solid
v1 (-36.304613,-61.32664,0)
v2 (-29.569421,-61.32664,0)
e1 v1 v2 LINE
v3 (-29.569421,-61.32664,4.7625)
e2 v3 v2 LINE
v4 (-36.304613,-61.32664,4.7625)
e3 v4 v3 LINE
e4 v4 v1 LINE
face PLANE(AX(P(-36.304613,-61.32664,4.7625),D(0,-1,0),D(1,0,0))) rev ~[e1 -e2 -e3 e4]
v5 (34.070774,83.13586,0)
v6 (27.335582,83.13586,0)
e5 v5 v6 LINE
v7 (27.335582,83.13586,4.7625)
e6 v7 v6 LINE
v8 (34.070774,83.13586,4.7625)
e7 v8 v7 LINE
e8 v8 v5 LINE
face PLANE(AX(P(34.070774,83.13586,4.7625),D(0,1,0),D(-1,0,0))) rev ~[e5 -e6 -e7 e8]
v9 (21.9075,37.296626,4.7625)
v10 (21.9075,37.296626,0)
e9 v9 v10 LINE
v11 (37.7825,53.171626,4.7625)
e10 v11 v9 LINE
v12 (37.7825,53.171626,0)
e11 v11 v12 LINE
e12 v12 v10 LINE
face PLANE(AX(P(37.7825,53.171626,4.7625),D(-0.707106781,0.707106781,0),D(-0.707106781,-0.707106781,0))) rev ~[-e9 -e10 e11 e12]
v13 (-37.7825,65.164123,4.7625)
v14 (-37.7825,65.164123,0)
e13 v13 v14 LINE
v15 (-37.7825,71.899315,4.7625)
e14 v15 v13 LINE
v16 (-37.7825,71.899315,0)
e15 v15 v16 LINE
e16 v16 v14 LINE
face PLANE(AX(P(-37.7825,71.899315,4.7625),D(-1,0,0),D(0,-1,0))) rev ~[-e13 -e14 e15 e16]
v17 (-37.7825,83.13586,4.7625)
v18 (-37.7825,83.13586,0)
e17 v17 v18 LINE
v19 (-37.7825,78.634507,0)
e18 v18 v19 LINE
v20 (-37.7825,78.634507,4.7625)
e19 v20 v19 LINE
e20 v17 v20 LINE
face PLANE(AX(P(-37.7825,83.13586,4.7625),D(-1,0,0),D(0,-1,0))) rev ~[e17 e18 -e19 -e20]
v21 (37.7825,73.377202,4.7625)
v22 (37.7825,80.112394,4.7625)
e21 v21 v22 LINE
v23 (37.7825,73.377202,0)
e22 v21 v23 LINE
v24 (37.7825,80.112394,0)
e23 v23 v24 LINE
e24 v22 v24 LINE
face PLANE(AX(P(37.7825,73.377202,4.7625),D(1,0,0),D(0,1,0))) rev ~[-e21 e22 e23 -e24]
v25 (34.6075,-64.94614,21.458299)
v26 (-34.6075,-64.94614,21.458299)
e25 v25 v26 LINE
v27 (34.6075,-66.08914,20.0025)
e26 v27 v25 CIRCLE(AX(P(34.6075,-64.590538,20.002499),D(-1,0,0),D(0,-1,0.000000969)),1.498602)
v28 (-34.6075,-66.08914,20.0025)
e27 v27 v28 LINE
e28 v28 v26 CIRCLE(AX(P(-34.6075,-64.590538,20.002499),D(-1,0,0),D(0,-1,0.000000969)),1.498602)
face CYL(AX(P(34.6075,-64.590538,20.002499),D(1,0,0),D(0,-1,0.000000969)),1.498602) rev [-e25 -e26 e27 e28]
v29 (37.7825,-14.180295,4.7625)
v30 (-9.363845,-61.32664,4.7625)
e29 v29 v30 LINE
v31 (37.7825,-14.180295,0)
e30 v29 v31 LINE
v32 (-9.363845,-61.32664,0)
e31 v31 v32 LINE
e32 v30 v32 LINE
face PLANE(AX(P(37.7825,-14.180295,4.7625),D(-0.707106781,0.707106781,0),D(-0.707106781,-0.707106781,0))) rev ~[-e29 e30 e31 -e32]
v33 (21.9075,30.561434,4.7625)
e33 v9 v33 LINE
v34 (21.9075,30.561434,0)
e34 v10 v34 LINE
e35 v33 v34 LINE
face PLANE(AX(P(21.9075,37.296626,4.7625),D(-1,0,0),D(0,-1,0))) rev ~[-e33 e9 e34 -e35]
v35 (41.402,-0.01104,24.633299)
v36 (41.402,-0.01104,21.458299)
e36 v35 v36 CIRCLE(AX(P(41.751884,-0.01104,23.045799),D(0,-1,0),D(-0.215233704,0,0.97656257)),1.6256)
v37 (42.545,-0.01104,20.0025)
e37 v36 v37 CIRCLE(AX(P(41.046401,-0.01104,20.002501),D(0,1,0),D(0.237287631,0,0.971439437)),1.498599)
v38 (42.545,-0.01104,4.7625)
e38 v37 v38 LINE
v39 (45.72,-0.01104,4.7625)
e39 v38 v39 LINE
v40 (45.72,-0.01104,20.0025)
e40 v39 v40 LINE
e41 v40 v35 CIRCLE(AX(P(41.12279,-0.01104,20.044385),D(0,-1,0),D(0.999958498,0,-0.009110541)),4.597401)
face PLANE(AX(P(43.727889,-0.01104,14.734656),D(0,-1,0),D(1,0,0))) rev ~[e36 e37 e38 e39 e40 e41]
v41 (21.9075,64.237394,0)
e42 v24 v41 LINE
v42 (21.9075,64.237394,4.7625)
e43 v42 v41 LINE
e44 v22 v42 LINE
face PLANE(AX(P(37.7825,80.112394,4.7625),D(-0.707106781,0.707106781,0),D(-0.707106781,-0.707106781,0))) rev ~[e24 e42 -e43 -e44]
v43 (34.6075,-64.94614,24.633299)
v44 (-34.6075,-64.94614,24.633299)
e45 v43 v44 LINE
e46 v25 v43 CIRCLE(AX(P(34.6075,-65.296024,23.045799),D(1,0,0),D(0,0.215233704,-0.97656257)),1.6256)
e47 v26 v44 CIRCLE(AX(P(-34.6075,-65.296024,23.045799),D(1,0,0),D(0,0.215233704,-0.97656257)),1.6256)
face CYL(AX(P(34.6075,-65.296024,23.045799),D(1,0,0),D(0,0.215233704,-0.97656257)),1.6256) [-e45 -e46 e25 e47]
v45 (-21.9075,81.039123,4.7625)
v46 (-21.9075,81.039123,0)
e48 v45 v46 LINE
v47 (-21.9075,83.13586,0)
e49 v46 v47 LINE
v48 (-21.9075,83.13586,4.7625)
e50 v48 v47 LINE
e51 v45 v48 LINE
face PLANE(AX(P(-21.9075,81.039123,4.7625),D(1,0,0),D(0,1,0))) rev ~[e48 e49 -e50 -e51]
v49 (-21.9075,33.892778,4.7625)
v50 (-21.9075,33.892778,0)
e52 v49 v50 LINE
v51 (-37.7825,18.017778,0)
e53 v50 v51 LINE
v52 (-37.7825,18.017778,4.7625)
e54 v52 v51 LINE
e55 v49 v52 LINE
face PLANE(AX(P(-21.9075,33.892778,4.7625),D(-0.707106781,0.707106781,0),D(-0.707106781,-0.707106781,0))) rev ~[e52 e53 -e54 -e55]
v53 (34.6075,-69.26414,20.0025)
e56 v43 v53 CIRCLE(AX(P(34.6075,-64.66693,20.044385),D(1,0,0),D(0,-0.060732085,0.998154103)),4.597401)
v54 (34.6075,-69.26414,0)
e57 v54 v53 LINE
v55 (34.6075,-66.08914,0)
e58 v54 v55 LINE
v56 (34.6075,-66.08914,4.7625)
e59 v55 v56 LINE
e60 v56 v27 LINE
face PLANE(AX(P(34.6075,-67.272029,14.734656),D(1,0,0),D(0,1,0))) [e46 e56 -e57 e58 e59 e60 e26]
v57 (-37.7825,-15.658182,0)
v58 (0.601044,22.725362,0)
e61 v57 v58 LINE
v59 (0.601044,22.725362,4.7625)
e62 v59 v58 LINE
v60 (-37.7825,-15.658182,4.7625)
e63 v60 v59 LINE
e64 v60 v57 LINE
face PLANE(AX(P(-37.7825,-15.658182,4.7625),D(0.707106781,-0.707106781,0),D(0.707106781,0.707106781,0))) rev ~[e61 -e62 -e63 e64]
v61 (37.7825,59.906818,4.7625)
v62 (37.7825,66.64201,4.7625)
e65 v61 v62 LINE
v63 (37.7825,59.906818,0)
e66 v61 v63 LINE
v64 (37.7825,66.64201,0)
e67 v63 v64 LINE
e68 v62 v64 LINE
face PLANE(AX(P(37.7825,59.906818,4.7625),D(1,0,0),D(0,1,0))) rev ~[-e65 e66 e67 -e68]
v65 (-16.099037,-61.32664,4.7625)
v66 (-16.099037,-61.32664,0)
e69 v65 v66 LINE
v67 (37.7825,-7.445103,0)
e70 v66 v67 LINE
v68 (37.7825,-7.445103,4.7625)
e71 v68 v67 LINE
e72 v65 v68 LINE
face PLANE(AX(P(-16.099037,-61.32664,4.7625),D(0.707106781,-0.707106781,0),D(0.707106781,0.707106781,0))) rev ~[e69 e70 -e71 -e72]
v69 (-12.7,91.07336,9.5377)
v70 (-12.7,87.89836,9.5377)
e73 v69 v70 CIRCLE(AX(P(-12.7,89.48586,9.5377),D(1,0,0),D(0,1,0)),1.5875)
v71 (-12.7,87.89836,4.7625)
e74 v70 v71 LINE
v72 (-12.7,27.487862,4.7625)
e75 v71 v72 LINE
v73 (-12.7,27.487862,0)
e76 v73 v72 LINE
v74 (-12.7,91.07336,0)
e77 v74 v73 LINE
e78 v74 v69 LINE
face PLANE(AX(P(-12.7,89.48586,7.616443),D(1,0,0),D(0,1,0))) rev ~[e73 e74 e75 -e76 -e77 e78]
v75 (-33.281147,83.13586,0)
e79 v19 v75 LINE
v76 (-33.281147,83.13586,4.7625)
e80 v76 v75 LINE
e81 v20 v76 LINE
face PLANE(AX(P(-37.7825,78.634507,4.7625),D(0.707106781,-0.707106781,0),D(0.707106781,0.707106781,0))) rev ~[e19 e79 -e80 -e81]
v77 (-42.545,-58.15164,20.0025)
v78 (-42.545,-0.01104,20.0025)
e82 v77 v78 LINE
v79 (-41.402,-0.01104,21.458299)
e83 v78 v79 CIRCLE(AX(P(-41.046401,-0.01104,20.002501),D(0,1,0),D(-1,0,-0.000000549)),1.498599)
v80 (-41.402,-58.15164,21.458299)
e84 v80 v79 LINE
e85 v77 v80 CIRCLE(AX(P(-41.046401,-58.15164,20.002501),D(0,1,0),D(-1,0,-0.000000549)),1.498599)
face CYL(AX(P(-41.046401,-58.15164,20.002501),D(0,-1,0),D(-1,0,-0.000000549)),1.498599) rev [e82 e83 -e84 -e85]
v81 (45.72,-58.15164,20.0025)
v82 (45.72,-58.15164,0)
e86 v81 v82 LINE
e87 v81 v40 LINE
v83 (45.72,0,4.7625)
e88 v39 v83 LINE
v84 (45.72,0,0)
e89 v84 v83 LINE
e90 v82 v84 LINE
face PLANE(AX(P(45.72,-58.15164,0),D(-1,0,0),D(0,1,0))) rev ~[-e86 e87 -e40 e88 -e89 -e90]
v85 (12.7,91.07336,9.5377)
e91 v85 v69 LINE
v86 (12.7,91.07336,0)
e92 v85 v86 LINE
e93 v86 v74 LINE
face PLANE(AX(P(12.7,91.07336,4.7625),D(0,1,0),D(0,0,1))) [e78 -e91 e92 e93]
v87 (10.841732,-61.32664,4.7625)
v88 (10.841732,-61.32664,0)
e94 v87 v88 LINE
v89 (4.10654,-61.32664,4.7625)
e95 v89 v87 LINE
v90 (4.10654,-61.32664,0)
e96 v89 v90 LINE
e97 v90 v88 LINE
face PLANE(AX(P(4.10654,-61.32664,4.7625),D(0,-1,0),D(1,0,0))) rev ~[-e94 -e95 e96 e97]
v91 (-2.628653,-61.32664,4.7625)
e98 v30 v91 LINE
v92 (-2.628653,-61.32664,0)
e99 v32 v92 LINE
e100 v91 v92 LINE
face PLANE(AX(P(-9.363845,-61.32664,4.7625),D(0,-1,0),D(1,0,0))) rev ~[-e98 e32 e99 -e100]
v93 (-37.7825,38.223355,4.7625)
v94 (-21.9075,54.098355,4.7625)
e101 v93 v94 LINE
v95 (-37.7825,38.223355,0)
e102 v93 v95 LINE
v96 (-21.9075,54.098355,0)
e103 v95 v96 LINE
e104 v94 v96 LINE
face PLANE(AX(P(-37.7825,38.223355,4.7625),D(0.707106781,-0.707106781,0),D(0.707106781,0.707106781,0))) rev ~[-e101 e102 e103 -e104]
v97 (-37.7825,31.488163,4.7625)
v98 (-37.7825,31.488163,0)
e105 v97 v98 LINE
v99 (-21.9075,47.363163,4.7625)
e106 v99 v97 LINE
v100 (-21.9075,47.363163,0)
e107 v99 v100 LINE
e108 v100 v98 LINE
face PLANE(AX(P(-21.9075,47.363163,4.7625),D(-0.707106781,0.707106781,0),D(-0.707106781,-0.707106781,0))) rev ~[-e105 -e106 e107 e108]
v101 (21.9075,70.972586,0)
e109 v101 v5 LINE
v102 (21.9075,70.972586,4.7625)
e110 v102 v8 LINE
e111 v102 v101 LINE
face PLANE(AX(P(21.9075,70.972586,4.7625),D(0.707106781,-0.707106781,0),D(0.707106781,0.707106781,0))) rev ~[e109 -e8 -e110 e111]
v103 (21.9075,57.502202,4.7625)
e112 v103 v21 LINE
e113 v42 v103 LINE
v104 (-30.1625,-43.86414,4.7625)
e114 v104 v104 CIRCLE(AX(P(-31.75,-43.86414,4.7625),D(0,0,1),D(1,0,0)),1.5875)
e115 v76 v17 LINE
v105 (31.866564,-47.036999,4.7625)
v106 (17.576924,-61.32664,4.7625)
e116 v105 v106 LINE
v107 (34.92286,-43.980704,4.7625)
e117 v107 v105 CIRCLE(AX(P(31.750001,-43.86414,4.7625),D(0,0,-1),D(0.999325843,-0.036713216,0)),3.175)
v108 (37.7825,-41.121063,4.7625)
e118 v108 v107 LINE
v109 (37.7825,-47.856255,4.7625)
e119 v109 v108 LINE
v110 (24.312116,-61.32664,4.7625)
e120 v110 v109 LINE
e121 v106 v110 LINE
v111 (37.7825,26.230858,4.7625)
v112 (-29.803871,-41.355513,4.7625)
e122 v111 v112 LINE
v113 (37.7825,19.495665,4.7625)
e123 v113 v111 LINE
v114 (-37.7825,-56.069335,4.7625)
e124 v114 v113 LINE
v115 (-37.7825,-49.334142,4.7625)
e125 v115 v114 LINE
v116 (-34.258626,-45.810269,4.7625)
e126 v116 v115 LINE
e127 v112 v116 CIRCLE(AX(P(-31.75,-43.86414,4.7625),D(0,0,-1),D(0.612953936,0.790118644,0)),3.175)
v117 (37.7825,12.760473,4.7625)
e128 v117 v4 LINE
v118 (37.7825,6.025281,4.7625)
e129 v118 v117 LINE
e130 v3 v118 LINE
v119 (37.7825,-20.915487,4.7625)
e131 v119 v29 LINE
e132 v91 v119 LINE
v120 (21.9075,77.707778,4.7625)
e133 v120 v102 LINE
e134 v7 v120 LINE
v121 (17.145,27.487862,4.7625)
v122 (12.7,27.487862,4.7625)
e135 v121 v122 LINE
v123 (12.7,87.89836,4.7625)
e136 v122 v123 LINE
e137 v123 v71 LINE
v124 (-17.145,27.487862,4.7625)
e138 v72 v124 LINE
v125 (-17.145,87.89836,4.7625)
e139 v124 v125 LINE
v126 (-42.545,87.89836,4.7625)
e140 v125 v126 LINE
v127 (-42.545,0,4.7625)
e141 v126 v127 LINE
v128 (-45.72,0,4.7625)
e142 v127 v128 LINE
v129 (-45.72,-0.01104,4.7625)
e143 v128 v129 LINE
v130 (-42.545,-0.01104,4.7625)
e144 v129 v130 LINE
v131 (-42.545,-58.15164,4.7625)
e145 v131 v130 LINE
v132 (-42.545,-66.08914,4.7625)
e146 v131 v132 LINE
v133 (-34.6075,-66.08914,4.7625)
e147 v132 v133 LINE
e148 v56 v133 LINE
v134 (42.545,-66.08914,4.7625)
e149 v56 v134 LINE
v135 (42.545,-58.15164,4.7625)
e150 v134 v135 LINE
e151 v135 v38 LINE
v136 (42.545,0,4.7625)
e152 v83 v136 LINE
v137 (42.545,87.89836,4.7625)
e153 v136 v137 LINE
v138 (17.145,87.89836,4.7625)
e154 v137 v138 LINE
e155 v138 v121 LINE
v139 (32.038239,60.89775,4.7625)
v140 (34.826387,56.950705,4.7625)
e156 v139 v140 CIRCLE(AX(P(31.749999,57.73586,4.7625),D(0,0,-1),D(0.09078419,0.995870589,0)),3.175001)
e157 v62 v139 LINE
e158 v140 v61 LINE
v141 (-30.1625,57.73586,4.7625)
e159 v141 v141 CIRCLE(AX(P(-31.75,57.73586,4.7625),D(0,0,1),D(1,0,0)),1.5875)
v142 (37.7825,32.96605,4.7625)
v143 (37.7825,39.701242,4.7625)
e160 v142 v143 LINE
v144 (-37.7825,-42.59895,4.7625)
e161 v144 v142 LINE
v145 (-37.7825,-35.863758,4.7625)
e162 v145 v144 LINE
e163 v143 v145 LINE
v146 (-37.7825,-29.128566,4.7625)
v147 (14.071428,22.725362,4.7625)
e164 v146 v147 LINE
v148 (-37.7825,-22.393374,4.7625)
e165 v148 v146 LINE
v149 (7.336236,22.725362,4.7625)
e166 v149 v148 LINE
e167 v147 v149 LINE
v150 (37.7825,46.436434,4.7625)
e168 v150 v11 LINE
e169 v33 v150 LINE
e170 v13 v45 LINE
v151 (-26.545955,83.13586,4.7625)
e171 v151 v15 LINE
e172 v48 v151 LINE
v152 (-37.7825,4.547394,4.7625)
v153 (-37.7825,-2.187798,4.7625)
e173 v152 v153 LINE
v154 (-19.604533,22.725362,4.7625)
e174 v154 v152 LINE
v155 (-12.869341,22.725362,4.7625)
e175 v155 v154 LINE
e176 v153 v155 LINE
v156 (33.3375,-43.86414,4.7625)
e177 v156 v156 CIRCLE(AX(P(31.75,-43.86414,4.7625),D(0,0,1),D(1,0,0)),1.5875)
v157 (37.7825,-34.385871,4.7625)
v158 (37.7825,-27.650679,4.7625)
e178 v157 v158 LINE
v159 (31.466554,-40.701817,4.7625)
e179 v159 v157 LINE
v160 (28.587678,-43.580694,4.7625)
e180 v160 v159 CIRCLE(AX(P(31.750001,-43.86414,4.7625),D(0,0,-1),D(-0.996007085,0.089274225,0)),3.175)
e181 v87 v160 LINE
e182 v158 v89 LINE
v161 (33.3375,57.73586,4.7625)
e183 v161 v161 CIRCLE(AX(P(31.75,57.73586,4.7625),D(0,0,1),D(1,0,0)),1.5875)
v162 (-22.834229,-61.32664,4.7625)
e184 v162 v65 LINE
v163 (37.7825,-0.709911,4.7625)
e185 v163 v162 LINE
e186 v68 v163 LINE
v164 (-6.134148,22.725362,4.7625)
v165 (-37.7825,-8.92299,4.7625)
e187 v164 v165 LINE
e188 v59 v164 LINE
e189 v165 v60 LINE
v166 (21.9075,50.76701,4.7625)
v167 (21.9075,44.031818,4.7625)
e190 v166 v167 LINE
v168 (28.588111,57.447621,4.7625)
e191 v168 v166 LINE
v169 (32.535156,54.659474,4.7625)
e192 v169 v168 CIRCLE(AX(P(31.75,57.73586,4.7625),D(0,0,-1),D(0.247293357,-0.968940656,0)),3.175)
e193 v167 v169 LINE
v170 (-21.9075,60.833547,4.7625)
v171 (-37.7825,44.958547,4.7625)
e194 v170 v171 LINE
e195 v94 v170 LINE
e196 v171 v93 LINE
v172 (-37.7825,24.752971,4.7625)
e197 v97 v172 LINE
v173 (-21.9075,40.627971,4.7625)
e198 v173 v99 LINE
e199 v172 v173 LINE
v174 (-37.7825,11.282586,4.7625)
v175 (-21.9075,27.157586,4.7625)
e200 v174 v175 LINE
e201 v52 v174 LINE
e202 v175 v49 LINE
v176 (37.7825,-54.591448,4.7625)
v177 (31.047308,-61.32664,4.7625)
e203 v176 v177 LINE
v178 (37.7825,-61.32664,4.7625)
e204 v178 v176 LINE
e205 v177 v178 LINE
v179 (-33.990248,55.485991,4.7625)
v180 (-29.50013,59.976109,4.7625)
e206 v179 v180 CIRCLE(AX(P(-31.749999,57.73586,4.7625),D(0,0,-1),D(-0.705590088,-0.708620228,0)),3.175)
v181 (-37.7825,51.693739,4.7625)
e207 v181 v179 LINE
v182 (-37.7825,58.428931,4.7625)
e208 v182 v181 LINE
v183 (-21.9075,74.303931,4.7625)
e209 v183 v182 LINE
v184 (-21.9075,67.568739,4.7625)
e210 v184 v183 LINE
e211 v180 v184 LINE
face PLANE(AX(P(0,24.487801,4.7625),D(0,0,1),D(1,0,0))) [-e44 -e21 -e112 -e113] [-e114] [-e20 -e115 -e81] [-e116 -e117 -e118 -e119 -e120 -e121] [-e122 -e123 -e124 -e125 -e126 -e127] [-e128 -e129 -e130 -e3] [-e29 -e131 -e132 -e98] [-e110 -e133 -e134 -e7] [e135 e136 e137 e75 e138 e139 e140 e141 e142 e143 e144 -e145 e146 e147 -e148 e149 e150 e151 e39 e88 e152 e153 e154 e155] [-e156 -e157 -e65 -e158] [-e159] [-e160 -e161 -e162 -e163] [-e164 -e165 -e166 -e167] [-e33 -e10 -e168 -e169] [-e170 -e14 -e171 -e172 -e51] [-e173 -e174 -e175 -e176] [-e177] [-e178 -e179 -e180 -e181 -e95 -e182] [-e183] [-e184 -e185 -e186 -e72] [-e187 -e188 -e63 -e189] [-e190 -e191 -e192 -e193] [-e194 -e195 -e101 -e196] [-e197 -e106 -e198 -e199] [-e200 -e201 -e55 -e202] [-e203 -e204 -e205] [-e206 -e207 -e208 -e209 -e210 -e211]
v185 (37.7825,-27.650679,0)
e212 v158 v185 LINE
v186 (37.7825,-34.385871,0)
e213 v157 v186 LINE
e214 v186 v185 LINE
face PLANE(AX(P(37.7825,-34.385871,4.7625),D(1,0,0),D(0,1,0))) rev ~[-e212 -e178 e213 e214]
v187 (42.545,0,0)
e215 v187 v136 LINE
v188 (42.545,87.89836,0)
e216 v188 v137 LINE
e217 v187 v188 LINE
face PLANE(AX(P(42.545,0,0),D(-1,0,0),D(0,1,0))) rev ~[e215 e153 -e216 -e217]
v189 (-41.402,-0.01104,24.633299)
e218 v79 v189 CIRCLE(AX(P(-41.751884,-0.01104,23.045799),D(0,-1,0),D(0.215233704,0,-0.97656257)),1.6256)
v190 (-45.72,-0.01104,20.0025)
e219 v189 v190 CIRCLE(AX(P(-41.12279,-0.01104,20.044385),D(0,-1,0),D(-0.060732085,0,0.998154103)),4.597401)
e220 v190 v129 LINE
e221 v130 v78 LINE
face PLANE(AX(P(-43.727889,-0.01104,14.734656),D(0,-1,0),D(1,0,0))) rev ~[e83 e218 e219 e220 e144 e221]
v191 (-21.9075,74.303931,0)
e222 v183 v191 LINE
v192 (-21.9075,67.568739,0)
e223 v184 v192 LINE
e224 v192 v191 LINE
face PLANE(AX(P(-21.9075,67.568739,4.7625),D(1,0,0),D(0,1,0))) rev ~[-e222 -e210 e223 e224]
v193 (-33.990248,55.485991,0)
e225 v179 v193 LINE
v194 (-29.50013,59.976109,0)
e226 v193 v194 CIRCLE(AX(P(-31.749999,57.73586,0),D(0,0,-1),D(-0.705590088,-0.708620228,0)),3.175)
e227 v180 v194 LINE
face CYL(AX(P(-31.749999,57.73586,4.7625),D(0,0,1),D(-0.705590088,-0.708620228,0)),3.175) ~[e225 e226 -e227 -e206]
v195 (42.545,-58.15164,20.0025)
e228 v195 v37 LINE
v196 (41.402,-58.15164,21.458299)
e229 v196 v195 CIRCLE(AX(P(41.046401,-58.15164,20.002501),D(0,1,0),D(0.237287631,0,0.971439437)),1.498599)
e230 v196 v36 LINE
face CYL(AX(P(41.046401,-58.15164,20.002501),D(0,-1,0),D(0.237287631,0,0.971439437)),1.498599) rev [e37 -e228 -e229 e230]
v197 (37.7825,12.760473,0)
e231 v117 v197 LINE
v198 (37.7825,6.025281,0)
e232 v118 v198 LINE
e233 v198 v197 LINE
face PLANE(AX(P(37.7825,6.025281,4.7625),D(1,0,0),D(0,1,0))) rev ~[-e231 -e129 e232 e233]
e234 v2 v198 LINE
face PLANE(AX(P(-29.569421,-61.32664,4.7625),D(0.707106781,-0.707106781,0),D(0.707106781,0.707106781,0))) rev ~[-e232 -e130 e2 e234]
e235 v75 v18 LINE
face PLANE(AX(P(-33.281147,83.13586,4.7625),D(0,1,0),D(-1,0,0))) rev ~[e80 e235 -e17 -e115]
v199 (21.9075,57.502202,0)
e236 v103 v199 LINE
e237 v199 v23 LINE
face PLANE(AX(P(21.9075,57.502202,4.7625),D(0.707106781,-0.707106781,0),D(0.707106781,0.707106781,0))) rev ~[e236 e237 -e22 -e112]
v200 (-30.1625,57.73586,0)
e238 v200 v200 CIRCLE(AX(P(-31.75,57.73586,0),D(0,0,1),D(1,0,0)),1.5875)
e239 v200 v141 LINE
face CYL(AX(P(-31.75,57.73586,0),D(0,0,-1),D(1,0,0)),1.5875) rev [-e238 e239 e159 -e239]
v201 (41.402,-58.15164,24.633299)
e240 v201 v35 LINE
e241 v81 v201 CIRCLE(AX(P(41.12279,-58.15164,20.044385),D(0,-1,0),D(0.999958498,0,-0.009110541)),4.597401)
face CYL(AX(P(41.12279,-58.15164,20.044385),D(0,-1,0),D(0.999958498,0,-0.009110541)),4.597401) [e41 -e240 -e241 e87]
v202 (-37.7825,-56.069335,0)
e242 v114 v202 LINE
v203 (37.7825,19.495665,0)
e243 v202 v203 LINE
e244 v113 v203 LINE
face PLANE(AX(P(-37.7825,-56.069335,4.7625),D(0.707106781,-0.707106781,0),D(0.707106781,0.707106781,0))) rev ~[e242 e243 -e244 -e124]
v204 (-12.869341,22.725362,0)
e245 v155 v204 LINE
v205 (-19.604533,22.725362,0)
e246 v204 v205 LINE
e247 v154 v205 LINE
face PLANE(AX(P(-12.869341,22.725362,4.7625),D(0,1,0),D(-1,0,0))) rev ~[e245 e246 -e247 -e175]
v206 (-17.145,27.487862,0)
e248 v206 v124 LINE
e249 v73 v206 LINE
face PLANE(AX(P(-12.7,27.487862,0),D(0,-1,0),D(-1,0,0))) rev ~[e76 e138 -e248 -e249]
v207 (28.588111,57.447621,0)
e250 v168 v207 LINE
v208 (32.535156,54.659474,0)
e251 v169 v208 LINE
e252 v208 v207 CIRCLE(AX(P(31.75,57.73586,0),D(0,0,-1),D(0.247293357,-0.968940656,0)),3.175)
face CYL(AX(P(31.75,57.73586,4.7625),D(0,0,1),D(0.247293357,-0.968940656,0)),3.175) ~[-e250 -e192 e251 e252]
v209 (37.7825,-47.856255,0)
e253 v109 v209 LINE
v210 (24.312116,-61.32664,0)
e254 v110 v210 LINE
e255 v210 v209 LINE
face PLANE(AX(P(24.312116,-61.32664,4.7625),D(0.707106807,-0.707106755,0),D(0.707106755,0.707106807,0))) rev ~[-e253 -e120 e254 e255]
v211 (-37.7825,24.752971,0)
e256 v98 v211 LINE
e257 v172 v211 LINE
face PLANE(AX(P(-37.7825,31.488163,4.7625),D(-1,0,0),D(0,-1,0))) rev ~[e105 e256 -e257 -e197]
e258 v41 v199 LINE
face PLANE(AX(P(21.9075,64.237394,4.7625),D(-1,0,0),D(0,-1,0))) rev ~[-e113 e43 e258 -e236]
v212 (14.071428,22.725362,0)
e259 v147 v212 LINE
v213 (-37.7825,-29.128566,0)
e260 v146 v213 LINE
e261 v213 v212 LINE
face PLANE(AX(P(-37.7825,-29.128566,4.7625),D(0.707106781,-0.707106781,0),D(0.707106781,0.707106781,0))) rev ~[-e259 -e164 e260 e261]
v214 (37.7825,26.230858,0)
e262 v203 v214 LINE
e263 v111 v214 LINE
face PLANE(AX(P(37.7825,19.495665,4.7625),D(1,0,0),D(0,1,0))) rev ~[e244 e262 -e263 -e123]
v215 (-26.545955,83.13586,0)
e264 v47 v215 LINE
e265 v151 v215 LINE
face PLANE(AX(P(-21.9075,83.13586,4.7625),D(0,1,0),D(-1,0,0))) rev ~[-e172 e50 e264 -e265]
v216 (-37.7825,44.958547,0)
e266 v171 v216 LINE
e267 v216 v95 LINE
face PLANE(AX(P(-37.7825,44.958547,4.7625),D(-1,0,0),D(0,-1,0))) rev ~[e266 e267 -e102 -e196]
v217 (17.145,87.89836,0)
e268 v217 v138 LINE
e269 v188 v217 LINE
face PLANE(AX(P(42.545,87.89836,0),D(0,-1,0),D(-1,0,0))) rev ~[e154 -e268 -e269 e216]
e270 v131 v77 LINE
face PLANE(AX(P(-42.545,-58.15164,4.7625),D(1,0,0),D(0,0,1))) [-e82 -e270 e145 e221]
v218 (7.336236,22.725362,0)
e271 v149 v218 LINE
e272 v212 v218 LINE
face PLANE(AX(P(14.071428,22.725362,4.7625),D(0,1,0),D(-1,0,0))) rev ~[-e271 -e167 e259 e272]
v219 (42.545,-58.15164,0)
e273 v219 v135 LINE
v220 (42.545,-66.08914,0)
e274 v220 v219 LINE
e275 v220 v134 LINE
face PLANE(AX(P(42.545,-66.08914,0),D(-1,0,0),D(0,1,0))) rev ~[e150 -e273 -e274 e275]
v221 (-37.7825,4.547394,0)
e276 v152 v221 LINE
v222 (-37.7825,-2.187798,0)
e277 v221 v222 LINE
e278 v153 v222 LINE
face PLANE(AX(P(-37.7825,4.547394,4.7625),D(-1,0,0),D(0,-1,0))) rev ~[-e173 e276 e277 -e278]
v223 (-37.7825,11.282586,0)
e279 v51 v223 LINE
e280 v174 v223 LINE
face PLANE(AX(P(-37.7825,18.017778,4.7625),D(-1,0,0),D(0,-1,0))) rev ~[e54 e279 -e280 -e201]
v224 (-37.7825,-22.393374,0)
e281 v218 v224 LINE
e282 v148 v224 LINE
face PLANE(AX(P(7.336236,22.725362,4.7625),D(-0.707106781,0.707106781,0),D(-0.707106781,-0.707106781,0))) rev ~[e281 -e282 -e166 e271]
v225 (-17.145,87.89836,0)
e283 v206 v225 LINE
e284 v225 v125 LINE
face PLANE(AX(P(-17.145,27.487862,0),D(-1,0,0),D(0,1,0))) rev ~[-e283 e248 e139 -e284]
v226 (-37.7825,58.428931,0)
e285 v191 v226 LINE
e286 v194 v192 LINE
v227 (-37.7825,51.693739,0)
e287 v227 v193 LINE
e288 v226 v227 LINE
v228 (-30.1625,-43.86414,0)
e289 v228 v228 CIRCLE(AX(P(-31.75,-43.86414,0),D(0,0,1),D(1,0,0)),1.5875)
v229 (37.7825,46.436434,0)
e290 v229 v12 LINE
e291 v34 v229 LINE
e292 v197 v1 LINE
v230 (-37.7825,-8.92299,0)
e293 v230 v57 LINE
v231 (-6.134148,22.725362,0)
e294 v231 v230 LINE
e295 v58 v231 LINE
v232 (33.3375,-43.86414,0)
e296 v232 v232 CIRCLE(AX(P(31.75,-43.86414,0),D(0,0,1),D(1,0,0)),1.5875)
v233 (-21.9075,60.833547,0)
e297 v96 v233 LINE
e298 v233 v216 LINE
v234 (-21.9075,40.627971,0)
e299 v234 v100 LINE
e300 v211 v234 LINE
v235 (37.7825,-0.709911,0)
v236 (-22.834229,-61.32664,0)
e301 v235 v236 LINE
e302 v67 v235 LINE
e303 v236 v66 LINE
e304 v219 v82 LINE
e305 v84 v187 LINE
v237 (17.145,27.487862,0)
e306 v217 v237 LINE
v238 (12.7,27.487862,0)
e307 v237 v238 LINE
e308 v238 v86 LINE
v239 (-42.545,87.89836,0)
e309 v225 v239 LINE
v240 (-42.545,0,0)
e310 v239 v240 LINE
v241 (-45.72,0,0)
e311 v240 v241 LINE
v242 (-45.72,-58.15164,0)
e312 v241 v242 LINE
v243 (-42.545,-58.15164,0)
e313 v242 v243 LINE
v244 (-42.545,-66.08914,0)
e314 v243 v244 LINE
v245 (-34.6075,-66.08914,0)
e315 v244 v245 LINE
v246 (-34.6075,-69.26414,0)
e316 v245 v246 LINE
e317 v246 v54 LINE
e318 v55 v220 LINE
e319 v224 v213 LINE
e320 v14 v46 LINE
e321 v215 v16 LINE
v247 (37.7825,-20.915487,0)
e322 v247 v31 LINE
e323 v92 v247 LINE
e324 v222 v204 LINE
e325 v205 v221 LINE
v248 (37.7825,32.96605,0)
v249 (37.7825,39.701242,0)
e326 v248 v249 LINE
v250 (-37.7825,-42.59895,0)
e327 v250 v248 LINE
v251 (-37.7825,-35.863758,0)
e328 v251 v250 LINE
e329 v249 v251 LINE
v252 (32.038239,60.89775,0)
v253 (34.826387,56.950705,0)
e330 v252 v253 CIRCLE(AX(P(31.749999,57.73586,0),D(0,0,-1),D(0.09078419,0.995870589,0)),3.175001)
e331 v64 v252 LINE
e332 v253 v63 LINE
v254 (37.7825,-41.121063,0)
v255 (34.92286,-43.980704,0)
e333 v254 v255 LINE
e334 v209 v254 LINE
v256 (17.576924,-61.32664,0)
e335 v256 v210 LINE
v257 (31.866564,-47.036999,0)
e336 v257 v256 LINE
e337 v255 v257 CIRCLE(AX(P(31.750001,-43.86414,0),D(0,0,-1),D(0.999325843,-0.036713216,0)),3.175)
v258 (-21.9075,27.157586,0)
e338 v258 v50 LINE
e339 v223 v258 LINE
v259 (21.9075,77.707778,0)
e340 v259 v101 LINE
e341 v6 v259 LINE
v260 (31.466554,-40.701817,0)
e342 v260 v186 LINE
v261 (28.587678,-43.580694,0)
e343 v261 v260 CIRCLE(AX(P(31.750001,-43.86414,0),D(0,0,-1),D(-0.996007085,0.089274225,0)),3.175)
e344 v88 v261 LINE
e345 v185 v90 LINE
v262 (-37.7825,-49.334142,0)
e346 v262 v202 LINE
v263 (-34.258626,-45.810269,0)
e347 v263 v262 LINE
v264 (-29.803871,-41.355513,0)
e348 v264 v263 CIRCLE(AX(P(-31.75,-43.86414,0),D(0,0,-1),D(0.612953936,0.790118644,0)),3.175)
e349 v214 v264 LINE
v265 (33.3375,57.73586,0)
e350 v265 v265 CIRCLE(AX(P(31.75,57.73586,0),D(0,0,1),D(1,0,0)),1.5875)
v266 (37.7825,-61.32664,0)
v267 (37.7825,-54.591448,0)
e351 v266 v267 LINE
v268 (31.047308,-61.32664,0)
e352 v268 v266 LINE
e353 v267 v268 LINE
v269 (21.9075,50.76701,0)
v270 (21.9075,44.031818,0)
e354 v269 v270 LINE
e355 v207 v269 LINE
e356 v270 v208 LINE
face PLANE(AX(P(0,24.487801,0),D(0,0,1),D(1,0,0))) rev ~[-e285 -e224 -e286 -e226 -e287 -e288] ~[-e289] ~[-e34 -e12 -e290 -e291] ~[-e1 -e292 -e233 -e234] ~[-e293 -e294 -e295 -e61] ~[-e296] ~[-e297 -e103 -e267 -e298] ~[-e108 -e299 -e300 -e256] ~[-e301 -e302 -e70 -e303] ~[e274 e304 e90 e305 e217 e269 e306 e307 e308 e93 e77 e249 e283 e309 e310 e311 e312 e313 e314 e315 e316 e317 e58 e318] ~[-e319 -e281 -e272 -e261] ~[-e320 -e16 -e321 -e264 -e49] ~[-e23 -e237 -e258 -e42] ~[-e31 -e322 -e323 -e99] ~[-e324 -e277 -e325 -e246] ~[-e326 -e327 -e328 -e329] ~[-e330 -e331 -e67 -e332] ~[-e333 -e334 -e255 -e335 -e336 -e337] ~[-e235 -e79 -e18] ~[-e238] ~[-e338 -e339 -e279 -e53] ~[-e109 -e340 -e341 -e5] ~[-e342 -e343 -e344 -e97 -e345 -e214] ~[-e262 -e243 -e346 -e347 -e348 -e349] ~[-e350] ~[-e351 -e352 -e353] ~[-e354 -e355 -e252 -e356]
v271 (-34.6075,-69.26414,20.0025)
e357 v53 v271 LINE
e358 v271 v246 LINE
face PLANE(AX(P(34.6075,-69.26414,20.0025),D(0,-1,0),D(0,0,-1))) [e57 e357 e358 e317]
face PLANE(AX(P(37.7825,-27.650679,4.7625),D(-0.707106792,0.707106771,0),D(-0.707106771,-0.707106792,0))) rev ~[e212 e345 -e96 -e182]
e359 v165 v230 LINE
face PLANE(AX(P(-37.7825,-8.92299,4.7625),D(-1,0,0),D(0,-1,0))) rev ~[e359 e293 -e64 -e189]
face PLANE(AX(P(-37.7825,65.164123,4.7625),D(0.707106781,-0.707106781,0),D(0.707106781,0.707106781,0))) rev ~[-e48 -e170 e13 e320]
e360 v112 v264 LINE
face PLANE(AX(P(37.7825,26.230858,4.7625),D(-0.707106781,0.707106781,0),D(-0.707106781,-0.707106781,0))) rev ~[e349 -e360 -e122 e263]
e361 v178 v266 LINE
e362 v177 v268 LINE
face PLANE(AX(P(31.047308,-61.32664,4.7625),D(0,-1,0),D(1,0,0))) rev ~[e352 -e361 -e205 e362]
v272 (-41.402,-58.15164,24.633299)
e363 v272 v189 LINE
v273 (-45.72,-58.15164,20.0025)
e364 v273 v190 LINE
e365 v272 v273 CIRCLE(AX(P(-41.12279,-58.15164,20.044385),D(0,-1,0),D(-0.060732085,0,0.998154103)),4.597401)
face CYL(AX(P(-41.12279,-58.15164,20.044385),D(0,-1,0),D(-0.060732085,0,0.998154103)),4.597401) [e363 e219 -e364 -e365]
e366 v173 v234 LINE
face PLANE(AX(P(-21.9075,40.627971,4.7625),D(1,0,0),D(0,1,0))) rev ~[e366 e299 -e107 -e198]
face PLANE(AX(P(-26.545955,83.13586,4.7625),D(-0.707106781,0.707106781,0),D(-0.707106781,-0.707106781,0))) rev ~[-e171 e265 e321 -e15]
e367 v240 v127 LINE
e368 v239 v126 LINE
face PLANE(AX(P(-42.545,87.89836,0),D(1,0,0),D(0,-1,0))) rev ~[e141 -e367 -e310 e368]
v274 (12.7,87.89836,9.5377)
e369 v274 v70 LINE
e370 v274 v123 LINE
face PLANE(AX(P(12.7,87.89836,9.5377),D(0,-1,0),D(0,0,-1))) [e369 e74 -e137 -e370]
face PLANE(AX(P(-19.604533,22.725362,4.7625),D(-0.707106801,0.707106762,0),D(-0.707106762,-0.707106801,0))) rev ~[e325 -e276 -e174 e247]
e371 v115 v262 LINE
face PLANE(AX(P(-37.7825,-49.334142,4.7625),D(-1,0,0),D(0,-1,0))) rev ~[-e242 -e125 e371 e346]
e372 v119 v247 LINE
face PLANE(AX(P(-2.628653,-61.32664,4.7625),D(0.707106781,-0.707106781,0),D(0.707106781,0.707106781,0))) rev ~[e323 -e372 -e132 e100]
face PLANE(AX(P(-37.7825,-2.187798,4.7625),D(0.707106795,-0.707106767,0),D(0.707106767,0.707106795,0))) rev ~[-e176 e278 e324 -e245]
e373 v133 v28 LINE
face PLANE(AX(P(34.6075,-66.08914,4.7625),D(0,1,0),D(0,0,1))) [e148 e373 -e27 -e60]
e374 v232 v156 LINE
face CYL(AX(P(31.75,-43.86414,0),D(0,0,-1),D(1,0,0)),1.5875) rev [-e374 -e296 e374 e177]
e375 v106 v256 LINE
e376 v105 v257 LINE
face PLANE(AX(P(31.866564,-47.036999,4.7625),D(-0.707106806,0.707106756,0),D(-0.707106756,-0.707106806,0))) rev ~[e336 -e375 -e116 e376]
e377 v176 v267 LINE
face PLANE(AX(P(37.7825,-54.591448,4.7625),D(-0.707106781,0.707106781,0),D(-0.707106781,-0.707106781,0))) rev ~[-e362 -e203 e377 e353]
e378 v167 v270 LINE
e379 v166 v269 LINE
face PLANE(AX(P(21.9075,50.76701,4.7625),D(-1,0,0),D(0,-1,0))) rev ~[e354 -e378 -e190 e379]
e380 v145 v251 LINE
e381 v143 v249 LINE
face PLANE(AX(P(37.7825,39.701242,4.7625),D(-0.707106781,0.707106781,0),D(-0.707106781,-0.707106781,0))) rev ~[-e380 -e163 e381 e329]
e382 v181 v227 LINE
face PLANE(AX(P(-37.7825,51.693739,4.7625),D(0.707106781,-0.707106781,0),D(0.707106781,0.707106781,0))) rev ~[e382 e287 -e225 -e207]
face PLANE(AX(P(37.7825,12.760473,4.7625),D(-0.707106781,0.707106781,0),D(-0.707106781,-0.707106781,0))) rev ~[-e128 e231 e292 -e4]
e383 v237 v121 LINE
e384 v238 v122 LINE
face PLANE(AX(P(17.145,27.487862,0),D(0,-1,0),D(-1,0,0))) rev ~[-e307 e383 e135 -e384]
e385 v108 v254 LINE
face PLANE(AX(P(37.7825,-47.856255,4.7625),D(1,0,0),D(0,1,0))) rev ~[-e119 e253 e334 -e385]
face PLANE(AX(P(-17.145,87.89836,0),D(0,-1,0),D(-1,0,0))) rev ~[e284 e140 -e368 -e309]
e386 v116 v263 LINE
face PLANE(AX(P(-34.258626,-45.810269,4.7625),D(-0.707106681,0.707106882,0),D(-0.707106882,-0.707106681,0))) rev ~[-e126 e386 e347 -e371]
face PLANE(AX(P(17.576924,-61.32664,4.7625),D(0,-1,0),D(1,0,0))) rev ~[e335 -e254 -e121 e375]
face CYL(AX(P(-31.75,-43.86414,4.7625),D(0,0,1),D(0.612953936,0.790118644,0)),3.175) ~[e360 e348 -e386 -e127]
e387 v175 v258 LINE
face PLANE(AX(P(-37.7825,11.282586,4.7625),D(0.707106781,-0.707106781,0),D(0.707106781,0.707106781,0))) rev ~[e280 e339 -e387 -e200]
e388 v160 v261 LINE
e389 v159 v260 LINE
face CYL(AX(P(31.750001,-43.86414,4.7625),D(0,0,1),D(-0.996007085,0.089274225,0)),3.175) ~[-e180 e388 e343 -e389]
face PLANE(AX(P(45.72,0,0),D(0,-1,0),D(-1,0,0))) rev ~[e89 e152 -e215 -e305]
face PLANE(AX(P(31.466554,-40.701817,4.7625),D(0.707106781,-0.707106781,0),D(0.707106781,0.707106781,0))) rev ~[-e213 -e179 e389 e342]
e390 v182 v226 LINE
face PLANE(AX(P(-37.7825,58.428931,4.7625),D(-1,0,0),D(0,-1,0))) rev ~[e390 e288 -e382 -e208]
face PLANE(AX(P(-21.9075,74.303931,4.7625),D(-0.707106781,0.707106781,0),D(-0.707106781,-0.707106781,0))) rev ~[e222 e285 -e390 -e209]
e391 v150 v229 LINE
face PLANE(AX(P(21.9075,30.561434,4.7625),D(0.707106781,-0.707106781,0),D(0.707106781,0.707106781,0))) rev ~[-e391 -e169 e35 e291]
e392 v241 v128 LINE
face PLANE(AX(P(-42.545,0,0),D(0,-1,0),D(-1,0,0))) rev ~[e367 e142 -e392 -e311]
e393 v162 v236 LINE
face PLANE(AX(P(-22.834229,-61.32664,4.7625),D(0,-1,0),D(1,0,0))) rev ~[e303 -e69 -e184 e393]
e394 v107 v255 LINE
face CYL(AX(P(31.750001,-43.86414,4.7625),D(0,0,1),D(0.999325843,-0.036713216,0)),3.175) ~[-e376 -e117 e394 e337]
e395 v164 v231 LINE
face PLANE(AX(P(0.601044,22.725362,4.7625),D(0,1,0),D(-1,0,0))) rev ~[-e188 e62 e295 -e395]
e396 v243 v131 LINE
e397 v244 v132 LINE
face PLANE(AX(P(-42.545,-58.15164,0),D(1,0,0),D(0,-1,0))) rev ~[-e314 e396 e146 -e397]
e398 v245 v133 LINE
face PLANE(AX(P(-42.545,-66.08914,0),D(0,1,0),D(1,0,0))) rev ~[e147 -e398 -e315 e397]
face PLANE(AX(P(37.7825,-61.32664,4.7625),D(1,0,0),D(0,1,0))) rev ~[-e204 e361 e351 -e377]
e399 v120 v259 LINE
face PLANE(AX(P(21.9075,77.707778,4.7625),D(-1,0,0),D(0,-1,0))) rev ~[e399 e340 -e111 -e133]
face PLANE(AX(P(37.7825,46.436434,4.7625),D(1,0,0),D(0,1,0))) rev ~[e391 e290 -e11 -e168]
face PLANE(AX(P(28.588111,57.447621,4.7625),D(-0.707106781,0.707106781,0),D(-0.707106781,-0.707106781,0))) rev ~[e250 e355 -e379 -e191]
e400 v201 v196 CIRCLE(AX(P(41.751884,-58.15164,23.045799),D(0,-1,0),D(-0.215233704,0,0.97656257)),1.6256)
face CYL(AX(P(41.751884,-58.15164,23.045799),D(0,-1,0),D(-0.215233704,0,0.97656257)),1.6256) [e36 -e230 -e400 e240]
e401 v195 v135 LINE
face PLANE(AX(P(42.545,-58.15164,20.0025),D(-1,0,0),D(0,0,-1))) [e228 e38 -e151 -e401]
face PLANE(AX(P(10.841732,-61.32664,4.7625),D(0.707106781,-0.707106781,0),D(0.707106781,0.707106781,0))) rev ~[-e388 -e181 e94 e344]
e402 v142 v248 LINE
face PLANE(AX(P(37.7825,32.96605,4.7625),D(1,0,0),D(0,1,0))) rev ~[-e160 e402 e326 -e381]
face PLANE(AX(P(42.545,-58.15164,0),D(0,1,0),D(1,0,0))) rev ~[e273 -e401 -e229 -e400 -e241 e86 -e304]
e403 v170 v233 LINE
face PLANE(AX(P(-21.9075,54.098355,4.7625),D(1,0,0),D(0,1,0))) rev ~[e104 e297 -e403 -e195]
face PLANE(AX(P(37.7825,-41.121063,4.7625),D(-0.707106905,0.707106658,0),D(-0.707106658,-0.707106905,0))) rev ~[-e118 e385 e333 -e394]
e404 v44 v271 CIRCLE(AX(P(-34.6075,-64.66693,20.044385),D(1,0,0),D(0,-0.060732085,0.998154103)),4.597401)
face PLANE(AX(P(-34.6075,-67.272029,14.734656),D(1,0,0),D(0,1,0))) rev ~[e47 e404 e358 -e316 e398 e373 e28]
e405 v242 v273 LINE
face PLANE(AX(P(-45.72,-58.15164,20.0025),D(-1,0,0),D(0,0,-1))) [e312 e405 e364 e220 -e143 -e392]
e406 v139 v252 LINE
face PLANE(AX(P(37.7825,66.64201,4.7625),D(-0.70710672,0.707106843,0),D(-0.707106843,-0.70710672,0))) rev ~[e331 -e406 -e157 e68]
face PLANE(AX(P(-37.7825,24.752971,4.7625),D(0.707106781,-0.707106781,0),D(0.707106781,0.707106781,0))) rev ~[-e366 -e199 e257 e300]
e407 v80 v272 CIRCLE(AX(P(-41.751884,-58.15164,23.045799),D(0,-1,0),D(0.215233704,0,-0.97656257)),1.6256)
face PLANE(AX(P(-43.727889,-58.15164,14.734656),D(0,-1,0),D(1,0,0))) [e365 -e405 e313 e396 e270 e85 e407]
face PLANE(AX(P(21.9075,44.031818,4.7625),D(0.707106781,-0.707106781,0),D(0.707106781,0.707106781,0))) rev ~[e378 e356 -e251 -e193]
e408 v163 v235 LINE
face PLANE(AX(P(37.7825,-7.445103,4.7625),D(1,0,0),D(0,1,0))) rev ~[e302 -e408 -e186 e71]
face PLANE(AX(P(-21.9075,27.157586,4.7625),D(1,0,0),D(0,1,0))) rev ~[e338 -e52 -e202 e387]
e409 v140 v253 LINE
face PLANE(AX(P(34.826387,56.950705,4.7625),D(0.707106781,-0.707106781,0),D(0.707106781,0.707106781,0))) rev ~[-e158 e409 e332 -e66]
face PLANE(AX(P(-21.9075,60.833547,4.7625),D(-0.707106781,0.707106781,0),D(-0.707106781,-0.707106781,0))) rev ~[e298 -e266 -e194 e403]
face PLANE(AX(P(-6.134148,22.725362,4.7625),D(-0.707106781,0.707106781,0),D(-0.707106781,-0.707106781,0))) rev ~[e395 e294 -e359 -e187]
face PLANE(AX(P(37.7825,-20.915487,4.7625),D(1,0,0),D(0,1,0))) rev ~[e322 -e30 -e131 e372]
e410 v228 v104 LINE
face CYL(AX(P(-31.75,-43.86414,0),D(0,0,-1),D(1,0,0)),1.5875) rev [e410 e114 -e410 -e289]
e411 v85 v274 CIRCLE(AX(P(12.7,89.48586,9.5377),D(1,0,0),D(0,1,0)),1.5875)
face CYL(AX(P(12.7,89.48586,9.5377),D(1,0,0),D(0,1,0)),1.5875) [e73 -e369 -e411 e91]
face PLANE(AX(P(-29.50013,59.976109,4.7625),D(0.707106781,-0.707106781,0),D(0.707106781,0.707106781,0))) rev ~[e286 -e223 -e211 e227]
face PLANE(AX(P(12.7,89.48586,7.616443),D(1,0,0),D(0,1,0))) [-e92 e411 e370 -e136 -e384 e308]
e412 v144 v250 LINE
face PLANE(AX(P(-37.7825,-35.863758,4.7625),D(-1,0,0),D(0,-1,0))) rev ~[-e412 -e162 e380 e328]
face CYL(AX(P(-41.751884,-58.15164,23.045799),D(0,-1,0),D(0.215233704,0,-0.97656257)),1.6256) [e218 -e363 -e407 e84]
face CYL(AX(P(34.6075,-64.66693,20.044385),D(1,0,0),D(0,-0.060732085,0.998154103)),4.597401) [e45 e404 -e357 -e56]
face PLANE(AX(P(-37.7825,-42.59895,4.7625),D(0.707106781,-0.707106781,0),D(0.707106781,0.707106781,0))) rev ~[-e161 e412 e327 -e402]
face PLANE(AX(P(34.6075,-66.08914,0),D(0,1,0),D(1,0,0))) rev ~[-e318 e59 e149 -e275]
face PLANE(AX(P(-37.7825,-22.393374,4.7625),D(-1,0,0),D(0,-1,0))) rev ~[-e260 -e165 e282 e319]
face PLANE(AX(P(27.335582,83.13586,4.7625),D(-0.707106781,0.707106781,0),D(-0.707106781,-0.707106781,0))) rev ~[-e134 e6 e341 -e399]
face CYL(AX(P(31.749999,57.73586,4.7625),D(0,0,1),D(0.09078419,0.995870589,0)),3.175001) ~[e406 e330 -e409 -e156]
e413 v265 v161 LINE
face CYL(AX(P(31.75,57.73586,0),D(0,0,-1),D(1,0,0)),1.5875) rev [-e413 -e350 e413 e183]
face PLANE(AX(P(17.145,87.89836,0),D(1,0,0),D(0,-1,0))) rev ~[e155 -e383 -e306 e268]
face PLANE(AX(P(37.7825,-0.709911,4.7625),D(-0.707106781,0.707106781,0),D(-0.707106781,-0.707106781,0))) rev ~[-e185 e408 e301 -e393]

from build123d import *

# Parameters (mm, degrees)
F0_R     = 1.5875
F1_DEPTH = 4.7625
F3_DEPTH = 58.1406
F5_DEPTH = 69.215
F7_DEPTH = 25.4
F9_DEPTH = 4.7625


with BuildPart() as f1:
    # F0 (on Top) → F1 (new body)
    with BuildSketch(Plane.XY):
        Polygon((-17.145, 87.89836), (-42.545, 87.89836), (-42.545, 0), (-45.72, 0), (-45.72, -58.15164), (-42.545, -58.15164), (-42.545, -66.08914), (-34.6075, -66.08914), (-34.6075, -69.26414), (34.6075, -69.26414), (34.6075, -66.08914), (42.545, -66.08914), (42.545, -58.15164), (45.72, -58.15164), (45.72, 0), (42.545, 0), (42.545, 87.89836), (17.145, 87.89836), (17.145, 27.487862), (12.7, 27.487862), (12.7, 91.07336), (-12.7, 91.07336), (-12.7, 27.487862), (-17.145, 27.487862), align=None)
        with Locations((-31.75, -43.86414)):
            Circle(F0_R, mode=Mode.SUBTRACT)
        with Locations((31.75, -43.86414)):
            Circle(F0_R, mode=Mode.SUBTRACT)
        with Locations((-31.75, 57.73586)):
            Circle(F0_R, mode=Mode.SUBTRACT)
        with Locations((31.75, 57.73586)):
            Circle(F0_R, mode=Mode.SUBTRACT)
    extrude(amount=F1_DEPTH)

    # F2 (on face) → F3 (join)
    with BuildSketch(Plane.XZ.offset(58.15164)):
        with BuildLine():
            Line((-45.72, 20.0025), (-45.72, 4.7625))
            Line((-45.72, 4.7625), (-42.545, 4.7625))
            Line((-42.545, 4.7625), (-42.545, 20.0025))
            ThreePointArc((-42.545, 20.0025), (-42.225108, 20.927946), (-41.402, 21.458299))
            ThreePointArc((-41.402, 21.458299), (-40.126284, 23.045799), (-41.402, 24.633299))
            ThreePointArc((-41.402, 24.633299), (-44.485221, 23.179692), (-45.72, 20.0025))
        make_face()
        with BuildLine():
            Line((42.545, 20.0025), (42.545, 4.7625))
            Line((42.545, 4.7625), (45.72, 4.7625))
            Line((45.72, 4.7625), (45.72, 20.0025))
            ThreePointArc((45.72, 20.0025), (44.485221, 23.179692), (41.402, 24.633299))
            ThreePointArc((41.402, 24.633299), (40.126284, 23.045799), (41.402, 21.458299))
            ThreePointArc((41.402, 21.458299), (42.225108, 20.927946), (42.545, 20.0025))
        make_face()
    extrude(amount=-F3_DEPTH)

    # F4 (on face) → F5 (join)
    with BuildSketch(Plane.YZ.offset(34.6075)):
        with BuildLine():
            Line((-69.26414, 20.0025), (-69.26414, 4.7625))
            Line((-69.26414, 4.7625), (-66.08914, 4.7625))
            Line((-66.08914, 4.7625), (-66.08914, 20.0025))
            ThreePointArc((-66.08914, 20.0025), (-65.769247, 20.927946), (-64.94614, 21.458299))
            ThreePointArc((-64.94614, 21.458299), (-63.670424, 23.045799), (-64.94614, 24.633299))
            ThreePointArc((-64.94614, 24.633299), (-68.029361, 23.179692), (-69.26414, 20.0025))
        make_face()
    extrude(amount=-F5_DEPTH)

    # F6 (on face) → F7 (join)
    with BuildSketch(Plane.YZ.offset(12.7)):
        with BuildLine():
            Line((87.89836, 4.7625), (91.07336, 4.7625))
            Line((91.07336, 4.7625), (91.07336, 9.5377))
            ThreePointArc((91.07336, 9.5377), (89.48586, 11.1252), (87.89836, 9.5377))
            Line((87.89836, 9.5377), (87.89836, 4.7625))
        make_face()
    extrude(amount=-F7_DEPTH)

    # F8 (on face) → F9 (cut)
    with BuildSketch(Plane.XY.offset(4.7625)):
        Polygon((-33.281147, 83.13586), (-37.7825, 83.13586), (-37.7825, 78.634507), align=None)
        Polygon((-21.9075, 81.039123), (-21.9075, 83.13586), (-26.545955, 83.13586), (-37.7825, 71.899315), (-37.7825, 65.164123), align=None)
        Polygon((-12.869341, 22.725362), (-19.604533, 22.725362), (-37.7825, 4.547394), (-37.7825, -2.187798), align=None)
        Polygon((34.070774, 83.13586), (27.335582, 83.13586), (21.9075, 77.707778), (21.9075, 70.972586), align=None)
        Polygon((37.7825, 73.377202), (37.7825, 80.112394), (21.9075, 64.237394), (21.9075, 57.502202), align=None)
        Polygon((31.047308, -61.32664), (37.7825, -61.32664), (37.7825, -54.591448), align=None)
        with BuildLine():
            Line((-37.7825, -49.334142), (-37.7825, -56.069335))
            Line((-37.7825, -56.069335), (37.7825, 19.495665))
            Line((37.7825, 19.495665), (37.7825, 26.230858))
            Line((37.7825, 26.230858), (-29.803871, -41.355513))
            ThreePointArc((-29.803871, -41.355513), (-29.504936, -46.109204), (-34.258626, -45.810269))
            Line((-34.258626, -45.810269), (-37.7825, -49.334142))
        make_face()
        with BuildLine():
            ThreePointArc((32.535156, 54.659474), (29.918155, 55.142606), (28.588111, 57.447621))
            Line((28.588111, 57.447621), (21.9075, 50.76701))
            Line((21.9075, 50.76701), (21.9075, 44.031818))
            Line((21.9075, 44.031818), (32.535156, 54.659474))
        make_face()
        with BuildLine():
            ThreePointArc((-33.990248, 55.485991), (-33.995064, 59.980924), (-29.50013, 59.976109))
            Line((-29.50013, 59.976109), (-21.9075, 67.568739))
            Line((-21.9075, 67.568739), (-21.9075, 74.303931))
            Line((-21.9075, 74.303931), (-37.7825, 58.428931))
            Line((-37.7825, 58.428931), (-37.7825, 51.693739))
            Line((-37.7825, 51.693739), (-33.990248, 55.485991))
        make_face()
        with BuildLine():
            Line((17.576924, -61.32664), (24.312116, -61.32664))
            Line((24.312116, -61.32664), (37.7825, -47.856255))
            Line((37.7825, -47.856255), (37.7825, -41.121063))
            Line((37.7825, -41.121063), (34.92286, -43.980704))
            ThreePointArc((34.92286, -43.980704), (33.995064, -46.109204), (31.866564, -47.036999))
            Line((31.866564, -47.036999), (17.576924, -61.32664))
        make_face()
        with BuildLine():
            Line((4.10654, -61.32664), (10.841732, -61.32664))
            Line((10.841732, -61.32664), (28.587678, -43.580694))
            ThreePointArc((28.587678, -43.580694), (29.504936, -41.619076), (31.466554, -40.701817))
            Line((31.466554, -40.701817), (37.7825, -34.385871))
            Line((37.7825, -34.385871), (37.7825, -27.650679))
            Line((37.7825, -27.650679), (4.10654, -61.32664))
        make_face()
        Polygon((-9.363845, -61.32664), (-2.628653, -61.32664), (37.7825, -20.915487), (37.7825, -14.180295), align=None)
        Polygon((-22.834229, -61.32664), (-16.099037, -61.32664), (37.7825, -7.445103), (37.7825, -0.709911), align=None)
        Polygon((-36.304613, -61.32664), (-29.569421, -61.32664), (37.7825, 6.025281), (37.7825, 12.760473), align=None)
        Polygon((-37.7825, -35.863758), (-37.7825, -42.59895), (37.7825, 32.96605), (37.7825, 39.701242), (20.80662, 22.725362), align=None)
        Polygon((-37.7825, -22.393374), (-37.7825, -29.128566), (14.071428, 22.725362), (7.336236, 22.725362), align=None)
        Polygon((-37.7825, -8.92299), (-37.7825, -15.658182), (0.601044, 22.725362), (-6.134148, 22.725362), align=None)
        Polygon((-37.7825, 18.017778), (-37.7825, 11.282586), (-21.9075, 27.157586), (-21.9075, 33.892778), align=None)
        Polygon((-37.7825, 31.488163), (-37.7825, 24.752971), (-21.9075, 40.627971), (-21.9075, 47.363163), align=None)
        Polygon((-37.7825, 44.958547), (-37.7825, 38.223355), (-21.9075, 54.098355), (-21.9075, 60.833547), align=None)
        Polygon((37.7825, 46.436434), (37.7825, 53.171626), (21.9075, 37.296626), (21.9075, 30.561434), align=None)
        with BuildLine():
            Line((37.7825, 59.906818), (37.7825, 66.64201))
            Line((37.7825, 66.64201), (32.038239, 60.89775))
            ThreePointArc((32.038239, 60.89775), (34.343254, 59.567706), (34.826387, 56.950705))
            Line((34.826387, 56.950705), (37.7825, 59.906818))
        make_face()
    extrude(amount=-F9_DEPTH, mode=Mode.SUBTRACT)


solid = f1.part
